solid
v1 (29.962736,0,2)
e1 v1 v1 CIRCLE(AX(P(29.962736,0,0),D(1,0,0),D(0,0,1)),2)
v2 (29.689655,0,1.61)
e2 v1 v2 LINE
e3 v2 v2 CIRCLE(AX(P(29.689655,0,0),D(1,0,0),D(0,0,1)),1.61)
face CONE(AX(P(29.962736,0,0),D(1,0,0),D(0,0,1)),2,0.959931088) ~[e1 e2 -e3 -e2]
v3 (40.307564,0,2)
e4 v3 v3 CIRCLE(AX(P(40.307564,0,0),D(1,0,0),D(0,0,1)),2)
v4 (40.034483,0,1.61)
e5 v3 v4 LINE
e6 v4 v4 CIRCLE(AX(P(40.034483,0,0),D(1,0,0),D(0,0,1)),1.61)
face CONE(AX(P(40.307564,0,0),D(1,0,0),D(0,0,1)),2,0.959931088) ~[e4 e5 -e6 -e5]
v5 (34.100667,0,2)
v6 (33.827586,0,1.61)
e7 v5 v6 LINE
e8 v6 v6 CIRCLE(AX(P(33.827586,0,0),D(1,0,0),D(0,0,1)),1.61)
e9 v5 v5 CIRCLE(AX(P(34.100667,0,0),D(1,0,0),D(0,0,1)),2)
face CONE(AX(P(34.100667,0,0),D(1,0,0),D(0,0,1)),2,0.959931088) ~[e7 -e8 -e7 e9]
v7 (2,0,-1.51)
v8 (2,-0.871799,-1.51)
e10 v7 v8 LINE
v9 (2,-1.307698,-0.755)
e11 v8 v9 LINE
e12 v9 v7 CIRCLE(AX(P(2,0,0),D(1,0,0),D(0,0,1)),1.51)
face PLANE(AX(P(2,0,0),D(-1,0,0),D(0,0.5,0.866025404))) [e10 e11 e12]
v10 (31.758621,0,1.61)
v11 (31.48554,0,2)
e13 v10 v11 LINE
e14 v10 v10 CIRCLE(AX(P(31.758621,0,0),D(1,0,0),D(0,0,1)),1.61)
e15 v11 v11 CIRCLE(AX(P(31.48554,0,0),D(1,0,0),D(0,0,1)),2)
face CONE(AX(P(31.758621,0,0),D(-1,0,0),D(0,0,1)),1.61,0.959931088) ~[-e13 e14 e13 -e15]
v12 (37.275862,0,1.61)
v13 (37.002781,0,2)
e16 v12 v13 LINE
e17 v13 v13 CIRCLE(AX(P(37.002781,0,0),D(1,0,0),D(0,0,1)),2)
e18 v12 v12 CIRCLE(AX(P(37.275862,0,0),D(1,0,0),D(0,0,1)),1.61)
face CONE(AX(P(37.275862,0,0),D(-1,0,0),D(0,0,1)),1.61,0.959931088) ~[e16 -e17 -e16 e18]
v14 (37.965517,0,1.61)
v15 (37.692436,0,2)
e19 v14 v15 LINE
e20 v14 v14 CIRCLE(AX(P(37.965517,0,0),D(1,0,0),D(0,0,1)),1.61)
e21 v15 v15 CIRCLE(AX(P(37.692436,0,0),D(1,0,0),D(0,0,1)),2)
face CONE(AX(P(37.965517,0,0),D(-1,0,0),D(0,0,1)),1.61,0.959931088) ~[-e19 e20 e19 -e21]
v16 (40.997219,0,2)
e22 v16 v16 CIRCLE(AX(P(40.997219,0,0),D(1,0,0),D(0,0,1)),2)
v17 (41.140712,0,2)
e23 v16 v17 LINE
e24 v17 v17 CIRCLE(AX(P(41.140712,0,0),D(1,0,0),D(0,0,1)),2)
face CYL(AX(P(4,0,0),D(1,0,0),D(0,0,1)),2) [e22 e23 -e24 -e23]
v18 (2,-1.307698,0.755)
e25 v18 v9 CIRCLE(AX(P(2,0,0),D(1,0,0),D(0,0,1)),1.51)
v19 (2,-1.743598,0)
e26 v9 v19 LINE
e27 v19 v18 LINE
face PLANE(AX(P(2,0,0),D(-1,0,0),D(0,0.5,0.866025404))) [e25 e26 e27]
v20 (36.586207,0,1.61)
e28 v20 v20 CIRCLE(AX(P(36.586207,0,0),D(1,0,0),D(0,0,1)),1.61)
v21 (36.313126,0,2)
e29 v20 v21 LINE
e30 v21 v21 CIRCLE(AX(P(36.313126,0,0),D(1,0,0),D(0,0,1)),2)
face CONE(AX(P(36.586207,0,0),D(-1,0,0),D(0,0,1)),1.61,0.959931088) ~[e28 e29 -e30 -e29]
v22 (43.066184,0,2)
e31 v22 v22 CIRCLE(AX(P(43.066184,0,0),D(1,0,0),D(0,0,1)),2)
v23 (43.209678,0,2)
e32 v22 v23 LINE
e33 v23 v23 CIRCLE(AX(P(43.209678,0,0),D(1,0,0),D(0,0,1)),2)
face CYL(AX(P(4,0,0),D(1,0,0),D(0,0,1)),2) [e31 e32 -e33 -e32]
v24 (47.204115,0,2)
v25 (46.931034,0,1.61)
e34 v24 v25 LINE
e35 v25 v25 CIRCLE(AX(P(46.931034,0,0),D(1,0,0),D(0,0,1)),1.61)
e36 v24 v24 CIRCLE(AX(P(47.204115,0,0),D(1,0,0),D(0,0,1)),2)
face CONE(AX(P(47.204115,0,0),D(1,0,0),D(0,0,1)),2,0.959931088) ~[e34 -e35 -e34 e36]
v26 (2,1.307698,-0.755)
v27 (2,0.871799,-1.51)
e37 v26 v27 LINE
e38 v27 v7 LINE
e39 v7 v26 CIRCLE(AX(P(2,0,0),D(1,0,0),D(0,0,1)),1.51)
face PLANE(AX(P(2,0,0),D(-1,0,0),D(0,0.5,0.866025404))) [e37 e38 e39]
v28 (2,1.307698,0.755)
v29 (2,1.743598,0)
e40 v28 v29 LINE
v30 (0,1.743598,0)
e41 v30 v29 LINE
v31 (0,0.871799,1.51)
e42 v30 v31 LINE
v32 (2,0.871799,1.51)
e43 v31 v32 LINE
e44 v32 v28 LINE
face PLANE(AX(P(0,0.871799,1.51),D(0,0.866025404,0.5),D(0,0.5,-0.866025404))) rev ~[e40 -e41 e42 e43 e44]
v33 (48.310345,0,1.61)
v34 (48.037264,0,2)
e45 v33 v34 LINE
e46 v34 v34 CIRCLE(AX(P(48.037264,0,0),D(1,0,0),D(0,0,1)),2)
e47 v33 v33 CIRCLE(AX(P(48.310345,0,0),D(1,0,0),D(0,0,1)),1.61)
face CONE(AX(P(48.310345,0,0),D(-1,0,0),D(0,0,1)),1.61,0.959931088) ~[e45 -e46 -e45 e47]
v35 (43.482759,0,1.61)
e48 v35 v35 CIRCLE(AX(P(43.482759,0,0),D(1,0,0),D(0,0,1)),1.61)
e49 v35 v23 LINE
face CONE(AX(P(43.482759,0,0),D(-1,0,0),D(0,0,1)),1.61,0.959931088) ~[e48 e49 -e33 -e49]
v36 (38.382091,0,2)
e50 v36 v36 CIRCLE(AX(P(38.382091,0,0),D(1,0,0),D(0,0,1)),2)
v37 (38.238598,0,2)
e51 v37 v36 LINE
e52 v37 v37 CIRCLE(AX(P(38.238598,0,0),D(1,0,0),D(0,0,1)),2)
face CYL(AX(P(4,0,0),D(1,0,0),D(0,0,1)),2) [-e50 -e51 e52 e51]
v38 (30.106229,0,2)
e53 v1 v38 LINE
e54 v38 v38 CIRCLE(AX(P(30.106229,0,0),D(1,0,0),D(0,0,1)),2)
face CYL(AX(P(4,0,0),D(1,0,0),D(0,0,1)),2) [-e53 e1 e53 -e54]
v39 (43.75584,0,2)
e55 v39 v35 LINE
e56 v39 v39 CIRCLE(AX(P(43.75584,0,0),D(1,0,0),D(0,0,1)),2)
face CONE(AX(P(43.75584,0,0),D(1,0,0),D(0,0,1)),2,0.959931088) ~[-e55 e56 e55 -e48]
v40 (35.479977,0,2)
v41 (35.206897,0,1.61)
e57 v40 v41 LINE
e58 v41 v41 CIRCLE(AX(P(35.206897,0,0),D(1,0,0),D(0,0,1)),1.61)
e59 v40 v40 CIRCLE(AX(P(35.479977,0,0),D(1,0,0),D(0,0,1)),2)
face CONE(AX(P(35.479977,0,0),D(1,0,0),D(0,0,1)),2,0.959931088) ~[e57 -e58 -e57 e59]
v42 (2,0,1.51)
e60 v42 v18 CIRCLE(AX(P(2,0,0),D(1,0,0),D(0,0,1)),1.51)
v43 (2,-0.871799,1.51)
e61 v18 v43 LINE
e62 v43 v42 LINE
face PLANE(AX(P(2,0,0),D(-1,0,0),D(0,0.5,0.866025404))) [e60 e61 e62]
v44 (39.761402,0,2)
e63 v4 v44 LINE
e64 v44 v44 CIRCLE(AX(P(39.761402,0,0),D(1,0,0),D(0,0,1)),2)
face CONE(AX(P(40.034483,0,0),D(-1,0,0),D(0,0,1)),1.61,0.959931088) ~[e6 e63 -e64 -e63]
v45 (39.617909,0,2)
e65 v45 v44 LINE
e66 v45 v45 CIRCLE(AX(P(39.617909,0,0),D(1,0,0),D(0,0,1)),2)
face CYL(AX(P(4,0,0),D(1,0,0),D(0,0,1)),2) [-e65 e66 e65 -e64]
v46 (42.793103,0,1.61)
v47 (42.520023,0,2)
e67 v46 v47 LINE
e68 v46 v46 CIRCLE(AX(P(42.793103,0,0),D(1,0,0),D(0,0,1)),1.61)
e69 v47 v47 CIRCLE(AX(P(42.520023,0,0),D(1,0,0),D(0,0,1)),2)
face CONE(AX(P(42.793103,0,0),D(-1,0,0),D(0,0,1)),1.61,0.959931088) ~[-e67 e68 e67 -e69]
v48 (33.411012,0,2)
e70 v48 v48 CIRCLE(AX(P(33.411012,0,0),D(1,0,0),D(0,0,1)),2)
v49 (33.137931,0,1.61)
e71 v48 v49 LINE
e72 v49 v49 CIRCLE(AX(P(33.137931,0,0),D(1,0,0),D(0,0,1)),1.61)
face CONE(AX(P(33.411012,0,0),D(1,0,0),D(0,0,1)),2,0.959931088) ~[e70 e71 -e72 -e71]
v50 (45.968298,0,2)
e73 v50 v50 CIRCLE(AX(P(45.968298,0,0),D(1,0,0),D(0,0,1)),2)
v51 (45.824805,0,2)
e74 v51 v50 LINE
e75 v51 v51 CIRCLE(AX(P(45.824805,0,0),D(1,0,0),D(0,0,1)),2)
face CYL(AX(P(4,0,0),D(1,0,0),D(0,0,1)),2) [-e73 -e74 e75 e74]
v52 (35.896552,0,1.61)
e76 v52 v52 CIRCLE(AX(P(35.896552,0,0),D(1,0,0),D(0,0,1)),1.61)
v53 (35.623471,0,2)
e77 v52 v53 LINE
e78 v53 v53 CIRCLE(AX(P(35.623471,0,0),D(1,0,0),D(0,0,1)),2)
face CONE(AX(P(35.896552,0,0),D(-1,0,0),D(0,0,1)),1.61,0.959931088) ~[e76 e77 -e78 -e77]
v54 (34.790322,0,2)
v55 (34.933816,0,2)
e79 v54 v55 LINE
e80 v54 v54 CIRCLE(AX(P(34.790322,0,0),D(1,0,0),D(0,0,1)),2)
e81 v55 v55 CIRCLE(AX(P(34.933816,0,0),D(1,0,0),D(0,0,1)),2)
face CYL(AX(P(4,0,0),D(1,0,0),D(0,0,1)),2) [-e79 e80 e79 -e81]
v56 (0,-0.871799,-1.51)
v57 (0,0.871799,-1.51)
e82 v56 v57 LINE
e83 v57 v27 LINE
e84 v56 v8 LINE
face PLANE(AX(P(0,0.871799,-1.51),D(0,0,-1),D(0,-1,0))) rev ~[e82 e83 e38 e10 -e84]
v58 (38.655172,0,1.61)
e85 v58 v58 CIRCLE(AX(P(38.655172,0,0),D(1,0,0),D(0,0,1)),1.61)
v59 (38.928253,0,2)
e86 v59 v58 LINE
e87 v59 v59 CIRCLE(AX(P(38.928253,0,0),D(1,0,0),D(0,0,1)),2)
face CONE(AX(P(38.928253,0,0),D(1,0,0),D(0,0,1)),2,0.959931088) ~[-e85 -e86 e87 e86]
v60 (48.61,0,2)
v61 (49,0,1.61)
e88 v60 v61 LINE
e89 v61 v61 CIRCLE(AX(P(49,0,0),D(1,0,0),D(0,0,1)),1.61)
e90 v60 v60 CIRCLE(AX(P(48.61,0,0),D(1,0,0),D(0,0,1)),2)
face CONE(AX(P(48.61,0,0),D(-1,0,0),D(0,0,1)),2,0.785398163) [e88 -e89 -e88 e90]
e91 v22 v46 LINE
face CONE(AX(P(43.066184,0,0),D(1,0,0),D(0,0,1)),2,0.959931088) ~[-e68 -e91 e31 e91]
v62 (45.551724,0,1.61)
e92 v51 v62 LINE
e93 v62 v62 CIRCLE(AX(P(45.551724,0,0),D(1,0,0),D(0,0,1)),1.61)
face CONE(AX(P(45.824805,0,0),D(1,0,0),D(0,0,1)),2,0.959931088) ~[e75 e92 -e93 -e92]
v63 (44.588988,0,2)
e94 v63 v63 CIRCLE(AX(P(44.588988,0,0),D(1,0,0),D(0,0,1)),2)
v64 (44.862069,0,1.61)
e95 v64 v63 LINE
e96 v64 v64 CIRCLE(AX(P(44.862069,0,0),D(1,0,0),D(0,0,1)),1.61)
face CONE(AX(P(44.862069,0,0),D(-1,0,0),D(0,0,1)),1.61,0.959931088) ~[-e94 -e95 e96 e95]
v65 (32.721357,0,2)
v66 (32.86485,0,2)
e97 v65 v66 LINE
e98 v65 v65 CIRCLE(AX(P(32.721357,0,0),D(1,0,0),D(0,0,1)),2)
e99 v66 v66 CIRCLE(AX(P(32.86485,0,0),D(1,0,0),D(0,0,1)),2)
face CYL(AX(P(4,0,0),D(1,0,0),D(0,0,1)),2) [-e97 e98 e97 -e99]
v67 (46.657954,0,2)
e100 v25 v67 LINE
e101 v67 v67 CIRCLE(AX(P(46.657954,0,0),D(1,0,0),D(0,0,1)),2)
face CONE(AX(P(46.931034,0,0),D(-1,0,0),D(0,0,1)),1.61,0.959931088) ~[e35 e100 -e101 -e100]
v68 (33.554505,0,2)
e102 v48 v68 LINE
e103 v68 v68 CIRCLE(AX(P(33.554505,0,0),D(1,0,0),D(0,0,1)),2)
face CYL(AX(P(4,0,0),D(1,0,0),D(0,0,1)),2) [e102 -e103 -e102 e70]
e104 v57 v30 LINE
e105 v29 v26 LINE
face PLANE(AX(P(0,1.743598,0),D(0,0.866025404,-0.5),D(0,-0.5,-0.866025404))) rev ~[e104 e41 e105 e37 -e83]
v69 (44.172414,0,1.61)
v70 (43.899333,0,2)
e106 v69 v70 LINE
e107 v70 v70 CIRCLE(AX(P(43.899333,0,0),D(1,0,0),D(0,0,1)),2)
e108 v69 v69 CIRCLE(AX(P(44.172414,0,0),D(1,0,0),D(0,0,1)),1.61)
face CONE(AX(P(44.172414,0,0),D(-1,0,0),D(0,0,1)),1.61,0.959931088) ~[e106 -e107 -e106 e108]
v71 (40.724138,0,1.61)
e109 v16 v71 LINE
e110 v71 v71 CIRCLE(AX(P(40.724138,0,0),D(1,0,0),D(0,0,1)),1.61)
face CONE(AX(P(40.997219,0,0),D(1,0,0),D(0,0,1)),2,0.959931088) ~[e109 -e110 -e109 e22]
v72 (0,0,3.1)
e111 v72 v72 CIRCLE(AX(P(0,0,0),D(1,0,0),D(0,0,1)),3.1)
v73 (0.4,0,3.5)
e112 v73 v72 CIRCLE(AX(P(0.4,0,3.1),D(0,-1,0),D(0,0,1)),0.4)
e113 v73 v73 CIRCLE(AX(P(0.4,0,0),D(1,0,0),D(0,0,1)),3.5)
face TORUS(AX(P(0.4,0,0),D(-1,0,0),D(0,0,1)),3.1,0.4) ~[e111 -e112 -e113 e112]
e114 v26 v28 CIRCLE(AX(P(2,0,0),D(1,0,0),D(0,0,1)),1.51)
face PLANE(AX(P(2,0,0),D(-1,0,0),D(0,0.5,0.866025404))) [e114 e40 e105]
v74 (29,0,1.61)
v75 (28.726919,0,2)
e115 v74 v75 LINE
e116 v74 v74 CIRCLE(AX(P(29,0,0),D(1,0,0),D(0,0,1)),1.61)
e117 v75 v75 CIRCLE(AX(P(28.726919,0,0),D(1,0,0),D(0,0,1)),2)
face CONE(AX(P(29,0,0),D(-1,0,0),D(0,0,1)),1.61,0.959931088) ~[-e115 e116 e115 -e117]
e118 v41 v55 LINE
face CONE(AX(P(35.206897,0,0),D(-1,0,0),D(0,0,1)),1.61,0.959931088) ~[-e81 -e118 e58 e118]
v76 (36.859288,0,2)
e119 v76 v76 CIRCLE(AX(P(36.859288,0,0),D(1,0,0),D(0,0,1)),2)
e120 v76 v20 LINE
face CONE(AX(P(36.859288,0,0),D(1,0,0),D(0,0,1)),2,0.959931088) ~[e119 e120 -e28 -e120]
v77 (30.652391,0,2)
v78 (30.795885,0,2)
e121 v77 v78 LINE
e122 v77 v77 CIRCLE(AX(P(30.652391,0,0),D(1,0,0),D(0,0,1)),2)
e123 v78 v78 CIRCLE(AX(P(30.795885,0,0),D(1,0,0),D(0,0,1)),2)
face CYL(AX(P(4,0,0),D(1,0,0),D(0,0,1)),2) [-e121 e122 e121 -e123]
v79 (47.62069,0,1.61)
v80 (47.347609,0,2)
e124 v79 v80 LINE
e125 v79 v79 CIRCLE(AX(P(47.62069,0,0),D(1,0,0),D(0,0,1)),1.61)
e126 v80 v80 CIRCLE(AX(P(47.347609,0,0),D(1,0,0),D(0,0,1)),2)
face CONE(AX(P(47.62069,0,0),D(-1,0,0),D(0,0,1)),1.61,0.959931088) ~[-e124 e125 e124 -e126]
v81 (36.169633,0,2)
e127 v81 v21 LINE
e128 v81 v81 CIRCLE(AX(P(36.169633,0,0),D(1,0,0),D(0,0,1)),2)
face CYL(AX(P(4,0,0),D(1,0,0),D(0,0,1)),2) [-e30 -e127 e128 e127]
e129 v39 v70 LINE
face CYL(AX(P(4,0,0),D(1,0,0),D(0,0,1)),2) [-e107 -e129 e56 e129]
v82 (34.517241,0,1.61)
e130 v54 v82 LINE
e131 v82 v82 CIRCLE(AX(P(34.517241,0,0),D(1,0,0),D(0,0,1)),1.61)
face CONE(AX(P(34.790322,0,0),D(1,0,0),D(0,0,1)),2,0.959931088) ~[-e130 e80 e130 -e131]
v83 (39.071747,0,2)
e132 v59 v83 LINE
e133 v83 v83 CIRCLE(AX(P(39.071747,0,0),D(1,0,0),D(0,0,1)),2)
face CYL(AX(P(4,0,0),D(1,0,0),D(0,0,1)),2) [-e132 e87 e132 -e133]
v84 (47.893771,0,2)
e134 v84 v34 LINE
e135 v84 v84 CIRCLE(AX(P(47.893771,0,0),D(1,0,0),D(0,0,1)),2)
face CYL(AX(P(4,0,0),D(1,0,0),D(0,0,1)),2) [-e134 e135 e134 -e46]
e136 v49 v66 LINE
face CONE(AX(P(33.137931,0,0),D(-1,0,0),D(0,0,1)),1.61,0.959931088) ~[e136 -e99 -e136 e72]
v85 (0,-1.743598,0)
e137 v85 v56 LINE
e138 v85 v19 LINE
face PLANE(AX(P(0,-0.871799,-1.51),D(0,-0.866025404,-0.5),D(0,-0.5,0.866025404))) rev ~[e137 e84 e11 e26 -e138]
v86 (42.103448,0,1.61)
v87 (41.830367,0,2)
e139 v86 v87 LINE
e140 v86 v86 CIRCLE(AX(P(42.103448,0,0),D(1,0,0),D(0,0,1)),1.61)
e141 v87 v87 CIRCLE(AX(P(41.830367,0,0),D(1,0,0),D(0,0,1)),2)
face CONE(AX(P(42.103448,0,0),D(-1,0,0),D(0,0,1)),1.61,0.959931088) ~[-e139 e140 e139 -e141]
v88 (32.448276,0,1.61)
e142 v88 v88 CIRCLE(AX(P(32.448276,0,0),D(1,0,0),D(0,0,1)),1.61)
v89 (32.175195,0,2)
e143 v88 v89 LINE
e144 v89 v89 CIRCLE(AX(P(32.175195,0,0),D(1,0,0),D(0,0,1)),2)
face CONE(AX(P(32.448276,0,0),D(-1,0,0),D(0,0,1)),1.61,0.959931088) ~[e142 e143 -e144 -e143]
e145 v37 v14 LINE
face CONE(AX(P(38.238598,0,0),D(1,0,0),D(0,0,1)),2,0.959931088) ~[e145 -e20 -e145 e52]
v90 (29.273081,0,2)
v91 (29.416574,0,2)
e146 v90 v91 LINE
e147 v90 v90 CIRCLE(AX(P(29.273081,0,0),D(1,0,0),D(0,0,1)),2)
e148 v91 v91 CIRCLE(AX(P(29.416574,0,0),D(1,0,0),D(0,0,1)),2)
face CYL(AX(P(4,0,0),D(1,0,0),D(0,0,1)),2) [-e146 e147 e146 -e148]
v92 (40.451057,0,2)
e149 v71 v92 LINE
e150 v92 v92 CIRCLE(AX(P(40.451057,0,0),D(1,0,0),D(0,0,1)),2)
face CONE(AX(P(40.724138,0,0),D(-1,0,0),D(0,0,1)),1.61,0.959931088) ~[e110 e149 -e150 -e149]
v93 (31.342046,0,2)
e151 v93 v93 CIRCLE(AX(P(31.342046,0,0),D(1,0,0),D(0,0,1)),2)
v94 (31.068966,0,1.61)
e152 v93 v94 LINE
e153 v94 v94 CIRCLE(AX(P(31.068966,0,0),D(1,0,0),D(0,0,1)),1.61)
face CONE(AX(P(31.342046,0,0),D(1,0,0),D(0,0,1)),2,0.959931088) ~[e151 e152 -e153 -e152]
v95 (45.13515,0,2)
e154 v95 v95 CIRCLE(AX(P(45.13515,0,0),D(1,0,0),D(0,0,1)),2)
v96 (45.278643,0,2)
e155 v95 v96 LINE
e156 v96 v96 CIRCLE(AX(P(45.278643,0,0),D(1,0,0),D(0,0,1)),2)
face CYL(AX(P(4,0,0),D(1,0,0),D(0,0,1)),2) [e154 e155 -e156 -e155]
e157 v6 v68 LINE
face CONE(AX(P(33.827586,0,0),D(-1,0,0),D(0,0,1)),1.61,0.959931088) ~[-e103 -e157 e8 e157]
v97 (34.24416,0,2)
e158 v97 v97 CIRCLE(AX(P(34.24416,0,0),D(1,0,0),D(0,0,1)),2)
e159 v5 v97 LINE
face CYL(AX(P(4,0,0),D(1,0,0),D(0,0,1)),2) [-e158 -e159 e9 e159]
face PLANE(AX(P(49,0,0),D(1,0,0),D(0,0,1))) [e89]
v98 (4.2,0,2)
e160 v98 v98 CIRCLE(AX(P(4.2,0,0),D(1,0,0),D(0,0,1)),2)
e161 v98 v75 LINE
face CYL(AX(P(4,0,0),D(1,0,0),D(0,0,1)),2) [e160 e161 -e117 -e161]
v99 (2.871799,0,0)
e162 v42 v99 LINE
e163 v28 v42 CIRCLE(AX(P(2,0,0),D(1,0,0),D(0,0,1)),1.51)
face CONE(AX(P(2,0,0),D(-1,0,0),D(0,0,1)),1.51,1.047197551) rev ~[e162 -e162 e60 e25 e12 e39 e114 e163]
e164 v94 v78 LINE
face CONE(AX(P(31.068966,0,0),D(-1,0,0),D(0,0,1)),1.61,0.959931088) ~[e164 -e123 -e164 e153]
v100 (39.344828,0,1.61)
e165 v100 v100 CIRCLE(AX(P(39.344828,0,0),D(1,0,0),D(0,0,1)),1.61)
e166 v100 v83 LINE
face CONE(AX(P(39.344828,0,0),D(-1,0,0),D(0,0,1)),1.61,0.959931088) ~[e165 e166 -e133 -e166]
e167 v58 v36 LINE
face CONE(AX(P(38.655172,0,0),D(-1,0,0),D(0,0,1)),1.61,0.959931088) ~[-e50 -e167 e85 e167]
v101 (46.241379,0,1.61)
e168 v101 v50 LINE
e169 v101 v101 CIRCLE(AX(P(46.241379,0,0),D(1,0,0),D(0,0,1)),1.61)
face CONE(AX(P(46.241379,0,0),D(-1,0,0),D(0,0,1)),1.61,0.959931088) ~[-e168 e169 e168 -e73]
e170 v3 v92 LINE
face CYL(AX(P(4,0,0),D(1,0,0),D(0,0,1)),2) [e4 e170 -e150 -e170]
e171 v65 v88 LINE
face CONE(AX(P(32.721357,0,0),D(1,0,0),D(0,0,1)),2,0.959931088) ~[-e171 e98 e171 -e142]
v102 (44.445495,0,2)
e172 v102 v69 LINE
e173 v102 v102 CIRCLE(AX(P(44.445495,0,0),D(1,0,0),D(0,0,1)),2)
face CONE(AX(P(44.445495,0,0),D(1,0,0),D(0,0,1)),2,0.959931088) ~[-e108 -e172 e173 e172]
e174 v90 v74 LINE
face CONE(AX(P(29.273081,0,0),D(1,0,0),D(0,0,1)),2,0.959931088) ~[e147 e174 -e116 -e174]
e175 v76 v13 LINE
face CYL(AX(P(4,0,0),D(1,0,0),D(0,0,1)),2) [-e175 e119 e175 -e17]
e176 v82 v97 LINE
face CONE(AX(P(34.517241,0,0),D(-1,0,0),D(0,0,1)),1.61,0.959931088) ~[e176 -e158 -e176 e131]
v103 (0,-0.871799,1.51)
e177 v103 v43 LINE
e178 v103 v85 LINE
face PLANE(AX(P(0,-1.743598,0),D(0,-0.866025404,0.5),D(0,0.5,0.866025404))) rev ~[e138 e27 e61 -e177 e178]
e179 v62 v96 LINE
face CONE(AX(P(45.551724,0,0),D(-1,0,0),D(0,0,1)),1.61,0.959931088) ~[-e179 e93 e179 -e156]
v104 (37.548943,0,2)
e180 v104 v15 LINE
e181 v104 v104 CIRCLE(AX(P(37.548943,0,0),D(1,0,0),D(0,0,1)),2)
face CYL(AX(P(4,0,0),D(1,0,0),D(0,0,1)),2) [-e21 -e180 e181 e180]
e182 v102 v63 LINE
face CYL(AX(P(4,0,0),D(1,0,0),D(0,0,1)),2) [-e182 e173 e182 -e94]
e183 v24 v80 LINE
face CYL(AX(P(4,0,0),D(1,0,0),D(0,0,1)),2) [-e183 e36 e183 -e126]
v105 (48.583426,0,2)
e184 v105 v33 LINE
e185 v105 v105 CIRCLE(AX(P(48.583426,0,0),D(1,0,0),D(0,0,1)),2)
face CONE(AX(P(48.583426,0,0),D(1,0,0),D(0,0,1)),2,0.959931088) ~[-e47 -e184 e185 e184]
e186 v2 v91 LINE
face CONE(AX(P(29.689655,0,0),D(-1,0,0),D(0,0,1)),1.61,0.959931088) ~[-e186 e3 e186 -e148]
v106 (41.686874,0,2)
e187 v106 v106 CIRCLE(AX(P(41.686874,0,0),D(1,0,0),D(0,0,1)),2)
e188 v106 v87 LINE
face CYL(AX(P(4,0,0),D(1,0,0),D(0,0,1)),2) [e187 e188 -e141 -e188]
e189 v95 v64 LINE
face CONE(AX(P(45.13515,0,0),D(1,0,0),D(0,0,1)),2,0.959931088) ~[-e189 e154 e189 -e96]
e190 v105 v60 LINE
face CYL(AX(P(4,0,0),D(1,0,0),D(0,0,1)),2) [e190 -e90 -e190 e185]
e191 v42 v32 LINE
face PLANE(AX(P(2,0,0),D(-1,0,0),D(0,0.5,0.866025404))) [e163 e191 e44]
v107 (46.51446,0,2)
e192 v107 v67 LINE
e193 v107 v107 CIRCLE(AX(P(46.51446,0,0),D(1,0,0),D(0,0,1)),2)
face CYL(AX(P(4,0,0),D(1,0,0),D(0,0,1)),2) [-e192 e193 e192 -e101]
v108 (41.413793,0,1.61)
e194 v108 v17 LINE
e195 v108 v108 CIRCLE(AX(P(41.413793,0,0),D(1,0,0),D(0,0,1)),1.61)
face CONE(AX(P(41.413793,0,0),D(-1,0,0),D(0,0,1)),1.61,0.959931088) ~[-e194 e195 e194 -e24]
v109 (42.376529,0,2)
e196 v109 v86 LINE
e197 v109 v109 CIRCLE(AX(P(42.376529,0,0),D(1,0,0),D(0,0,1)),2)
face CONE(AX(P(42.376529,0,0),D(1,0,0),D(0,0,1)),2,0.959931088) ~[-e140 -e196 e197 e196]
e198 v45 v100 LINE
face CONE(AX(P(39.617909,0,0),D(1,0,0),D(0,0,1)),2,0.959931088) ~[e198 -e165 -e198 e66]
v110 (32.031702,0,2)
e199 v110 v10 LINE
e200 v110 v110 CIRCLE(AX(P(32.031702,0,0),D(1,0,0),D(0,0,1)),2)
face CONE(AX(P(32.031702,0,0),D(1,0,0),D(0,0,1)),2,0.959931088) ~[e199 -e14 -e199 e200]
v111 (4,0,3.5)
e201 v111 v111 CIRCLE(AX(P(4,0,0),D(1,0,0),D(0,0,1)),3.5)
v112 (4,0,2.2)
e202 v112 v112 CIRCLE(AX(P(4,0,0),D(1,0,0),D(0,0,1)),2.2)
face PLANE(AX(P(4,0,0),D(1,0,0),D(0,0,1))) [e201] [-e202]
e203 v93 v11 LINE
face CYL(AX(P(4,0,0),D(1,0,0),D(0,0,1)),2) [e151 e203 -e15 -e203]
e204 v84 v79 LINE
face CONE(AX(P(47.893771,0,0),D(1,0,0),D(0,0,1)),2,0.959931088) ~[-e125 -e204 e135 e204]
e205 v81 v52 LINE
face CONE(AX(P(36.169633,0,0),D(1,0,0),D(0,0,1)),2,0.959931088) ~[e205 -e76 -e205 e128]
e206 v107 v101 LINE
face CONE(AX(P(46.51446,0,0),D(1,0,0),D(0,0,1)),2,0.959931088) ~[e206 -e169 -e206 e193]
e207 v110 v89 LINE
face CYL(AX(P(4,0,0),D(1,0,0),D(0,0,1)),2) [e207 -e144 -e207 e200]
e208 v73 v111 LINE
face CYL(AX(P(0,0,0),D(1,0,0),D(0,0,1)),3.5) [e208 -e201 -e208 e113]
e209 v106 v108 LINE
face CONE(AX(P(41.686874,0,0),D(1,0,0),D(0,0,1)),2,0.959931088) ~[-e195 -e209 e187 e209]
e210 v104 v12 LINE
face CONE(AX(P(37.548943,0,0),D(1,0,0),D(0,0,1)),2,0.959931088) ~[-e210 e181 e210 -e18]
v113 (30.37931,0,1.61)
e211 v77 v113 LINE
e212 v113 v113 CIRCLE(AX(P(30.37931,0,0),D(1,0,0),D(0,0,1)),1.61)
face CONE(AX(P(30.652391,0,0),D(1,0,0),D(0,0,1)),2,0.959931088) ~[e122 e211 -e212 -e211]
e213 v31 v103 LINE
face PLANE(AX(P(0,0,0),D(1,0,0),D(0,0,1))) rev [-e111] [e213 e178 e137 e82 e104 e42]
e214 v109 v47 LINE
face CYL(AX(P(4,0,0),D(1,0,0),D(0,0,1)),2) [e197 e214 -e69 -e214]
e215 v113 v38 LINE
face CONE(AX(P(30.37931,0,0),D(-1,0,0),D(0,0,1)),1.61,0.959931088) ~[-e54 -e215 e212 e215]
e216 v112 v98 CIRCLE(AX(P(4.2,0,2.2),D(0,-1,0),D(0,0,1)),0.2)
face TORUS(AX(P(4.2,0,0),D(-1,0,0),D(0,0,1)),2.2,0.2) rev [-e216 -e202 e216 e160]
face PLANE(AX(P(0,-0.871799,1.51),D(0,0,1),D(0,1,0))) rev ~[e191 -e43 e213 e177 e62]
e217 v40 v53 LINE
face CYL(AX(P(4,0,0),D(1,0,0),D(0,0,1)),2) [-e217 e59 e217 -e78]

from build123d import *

# Parameters (mm, degrees)
FILLET1_R       = 0.2
FILLET2_R       = 0.4
HEX_2_DEPTH     = 2
THDSCHPAT_COUNT = 29
THDSCHPAT_PITCH = 0.689655172


with BuildPart() as part:
    # BodySke → Base-Revolve (revolve)
    with BuildSketch(Plane.XY, mode=Mode.PRIVATE) as base_revolve_sk:
        Polygon((0, 0), (0, 3.5), (4, 3.5), (4, 2), (48.61, 2), (49, 1.61), (49, 0), align=None)
    revolve(base_revolve_sk.sketch.rotate(Axis((-31.75, 0, 0), (1, 0, 0)), 90), axis=Axis((-31.75, 0, 0), (1, 0, 0)))  # turned: the seam where the file's is

    # Fillet1
    fillet1_edges = [part.edges().sort_by_distance(p)[0] for p in [
        (4, 0, -2),
    ]]
    fillet(fillet1_edges, radius=FILLET1_R)

    # Fillet2
    fillet2_edges = [part.edges().sort_by_distance(p)[0] for p in [
        (0, 0, -3.5),
    ]]
    fillet(fillet2_edges, radius=FILLET2_R)

    # Sketch2 → Hex-PreBroach (revolve, cut)
    with BuildSketch(Plane.XY, mode=Mode.PRIVATE) as hex_prebroach_sk:
        Polygon((0, 1.51), (2, 1.51), (2.871798906, 0), (0, 0), align=None)
    revolve(hex_prebroach_sk.sketch.rotate(Axis((0, 0, 0), (1, 0, 0)), 90), axis=Axis((0, 0, 0), (1, 0, 0)), mode=Mode.SUBTRACT)  # turned: the seam where the file's is

    # Sketch3 → Hex 2 (cut)
    with BuildSketch(Plane(origin=(0, 0, 0), x_dir=(0, 0.5, 0.866025404), z_dir=(-1, 0, 0))):
        Polygon((0.871798906, 1.51), (-0.871798906, 1.51), (-1.743597813, 0), (-0.871798906, -1.51), (0.871798906, -1.51), (1.743597813, 0), align=None)
    extrude(amount=-HEX_2_DEPTH, mode=Mode.SUBTRACT)

    # ThdSchSke → ThreadSchematic (revolve, cut)
    with BuildSketch(Plane.XY, mode=Mode.PRIVATE) as threadschematic_sk:
        Polygon((29, -1.61), (28.72691906, -2), (28.72691906, -2.5), (29.27308094, -2.5), (29.27308094, -2), align=None)
    threadschematic = revolve(threadschematic_sk.sketch.rotate(Axis((-3.175, 0, 0), (1, 0, 0)), 270), axis=Axis((-3.175, 0, 0), (1, 0, 0)), mode=Mode.SUBTRACT)  # turned: the seam where the file's is

    # ThdSchPat: ThreadSchematic ×29
    with Locations(*[(i * THDSCHPAT_PITCH, 0, 0) for i in range(1, THDSCHPAT_COUNT)]):
        add(threadschematic, mode=Mode.SUBTRACT)


solid = part.part
